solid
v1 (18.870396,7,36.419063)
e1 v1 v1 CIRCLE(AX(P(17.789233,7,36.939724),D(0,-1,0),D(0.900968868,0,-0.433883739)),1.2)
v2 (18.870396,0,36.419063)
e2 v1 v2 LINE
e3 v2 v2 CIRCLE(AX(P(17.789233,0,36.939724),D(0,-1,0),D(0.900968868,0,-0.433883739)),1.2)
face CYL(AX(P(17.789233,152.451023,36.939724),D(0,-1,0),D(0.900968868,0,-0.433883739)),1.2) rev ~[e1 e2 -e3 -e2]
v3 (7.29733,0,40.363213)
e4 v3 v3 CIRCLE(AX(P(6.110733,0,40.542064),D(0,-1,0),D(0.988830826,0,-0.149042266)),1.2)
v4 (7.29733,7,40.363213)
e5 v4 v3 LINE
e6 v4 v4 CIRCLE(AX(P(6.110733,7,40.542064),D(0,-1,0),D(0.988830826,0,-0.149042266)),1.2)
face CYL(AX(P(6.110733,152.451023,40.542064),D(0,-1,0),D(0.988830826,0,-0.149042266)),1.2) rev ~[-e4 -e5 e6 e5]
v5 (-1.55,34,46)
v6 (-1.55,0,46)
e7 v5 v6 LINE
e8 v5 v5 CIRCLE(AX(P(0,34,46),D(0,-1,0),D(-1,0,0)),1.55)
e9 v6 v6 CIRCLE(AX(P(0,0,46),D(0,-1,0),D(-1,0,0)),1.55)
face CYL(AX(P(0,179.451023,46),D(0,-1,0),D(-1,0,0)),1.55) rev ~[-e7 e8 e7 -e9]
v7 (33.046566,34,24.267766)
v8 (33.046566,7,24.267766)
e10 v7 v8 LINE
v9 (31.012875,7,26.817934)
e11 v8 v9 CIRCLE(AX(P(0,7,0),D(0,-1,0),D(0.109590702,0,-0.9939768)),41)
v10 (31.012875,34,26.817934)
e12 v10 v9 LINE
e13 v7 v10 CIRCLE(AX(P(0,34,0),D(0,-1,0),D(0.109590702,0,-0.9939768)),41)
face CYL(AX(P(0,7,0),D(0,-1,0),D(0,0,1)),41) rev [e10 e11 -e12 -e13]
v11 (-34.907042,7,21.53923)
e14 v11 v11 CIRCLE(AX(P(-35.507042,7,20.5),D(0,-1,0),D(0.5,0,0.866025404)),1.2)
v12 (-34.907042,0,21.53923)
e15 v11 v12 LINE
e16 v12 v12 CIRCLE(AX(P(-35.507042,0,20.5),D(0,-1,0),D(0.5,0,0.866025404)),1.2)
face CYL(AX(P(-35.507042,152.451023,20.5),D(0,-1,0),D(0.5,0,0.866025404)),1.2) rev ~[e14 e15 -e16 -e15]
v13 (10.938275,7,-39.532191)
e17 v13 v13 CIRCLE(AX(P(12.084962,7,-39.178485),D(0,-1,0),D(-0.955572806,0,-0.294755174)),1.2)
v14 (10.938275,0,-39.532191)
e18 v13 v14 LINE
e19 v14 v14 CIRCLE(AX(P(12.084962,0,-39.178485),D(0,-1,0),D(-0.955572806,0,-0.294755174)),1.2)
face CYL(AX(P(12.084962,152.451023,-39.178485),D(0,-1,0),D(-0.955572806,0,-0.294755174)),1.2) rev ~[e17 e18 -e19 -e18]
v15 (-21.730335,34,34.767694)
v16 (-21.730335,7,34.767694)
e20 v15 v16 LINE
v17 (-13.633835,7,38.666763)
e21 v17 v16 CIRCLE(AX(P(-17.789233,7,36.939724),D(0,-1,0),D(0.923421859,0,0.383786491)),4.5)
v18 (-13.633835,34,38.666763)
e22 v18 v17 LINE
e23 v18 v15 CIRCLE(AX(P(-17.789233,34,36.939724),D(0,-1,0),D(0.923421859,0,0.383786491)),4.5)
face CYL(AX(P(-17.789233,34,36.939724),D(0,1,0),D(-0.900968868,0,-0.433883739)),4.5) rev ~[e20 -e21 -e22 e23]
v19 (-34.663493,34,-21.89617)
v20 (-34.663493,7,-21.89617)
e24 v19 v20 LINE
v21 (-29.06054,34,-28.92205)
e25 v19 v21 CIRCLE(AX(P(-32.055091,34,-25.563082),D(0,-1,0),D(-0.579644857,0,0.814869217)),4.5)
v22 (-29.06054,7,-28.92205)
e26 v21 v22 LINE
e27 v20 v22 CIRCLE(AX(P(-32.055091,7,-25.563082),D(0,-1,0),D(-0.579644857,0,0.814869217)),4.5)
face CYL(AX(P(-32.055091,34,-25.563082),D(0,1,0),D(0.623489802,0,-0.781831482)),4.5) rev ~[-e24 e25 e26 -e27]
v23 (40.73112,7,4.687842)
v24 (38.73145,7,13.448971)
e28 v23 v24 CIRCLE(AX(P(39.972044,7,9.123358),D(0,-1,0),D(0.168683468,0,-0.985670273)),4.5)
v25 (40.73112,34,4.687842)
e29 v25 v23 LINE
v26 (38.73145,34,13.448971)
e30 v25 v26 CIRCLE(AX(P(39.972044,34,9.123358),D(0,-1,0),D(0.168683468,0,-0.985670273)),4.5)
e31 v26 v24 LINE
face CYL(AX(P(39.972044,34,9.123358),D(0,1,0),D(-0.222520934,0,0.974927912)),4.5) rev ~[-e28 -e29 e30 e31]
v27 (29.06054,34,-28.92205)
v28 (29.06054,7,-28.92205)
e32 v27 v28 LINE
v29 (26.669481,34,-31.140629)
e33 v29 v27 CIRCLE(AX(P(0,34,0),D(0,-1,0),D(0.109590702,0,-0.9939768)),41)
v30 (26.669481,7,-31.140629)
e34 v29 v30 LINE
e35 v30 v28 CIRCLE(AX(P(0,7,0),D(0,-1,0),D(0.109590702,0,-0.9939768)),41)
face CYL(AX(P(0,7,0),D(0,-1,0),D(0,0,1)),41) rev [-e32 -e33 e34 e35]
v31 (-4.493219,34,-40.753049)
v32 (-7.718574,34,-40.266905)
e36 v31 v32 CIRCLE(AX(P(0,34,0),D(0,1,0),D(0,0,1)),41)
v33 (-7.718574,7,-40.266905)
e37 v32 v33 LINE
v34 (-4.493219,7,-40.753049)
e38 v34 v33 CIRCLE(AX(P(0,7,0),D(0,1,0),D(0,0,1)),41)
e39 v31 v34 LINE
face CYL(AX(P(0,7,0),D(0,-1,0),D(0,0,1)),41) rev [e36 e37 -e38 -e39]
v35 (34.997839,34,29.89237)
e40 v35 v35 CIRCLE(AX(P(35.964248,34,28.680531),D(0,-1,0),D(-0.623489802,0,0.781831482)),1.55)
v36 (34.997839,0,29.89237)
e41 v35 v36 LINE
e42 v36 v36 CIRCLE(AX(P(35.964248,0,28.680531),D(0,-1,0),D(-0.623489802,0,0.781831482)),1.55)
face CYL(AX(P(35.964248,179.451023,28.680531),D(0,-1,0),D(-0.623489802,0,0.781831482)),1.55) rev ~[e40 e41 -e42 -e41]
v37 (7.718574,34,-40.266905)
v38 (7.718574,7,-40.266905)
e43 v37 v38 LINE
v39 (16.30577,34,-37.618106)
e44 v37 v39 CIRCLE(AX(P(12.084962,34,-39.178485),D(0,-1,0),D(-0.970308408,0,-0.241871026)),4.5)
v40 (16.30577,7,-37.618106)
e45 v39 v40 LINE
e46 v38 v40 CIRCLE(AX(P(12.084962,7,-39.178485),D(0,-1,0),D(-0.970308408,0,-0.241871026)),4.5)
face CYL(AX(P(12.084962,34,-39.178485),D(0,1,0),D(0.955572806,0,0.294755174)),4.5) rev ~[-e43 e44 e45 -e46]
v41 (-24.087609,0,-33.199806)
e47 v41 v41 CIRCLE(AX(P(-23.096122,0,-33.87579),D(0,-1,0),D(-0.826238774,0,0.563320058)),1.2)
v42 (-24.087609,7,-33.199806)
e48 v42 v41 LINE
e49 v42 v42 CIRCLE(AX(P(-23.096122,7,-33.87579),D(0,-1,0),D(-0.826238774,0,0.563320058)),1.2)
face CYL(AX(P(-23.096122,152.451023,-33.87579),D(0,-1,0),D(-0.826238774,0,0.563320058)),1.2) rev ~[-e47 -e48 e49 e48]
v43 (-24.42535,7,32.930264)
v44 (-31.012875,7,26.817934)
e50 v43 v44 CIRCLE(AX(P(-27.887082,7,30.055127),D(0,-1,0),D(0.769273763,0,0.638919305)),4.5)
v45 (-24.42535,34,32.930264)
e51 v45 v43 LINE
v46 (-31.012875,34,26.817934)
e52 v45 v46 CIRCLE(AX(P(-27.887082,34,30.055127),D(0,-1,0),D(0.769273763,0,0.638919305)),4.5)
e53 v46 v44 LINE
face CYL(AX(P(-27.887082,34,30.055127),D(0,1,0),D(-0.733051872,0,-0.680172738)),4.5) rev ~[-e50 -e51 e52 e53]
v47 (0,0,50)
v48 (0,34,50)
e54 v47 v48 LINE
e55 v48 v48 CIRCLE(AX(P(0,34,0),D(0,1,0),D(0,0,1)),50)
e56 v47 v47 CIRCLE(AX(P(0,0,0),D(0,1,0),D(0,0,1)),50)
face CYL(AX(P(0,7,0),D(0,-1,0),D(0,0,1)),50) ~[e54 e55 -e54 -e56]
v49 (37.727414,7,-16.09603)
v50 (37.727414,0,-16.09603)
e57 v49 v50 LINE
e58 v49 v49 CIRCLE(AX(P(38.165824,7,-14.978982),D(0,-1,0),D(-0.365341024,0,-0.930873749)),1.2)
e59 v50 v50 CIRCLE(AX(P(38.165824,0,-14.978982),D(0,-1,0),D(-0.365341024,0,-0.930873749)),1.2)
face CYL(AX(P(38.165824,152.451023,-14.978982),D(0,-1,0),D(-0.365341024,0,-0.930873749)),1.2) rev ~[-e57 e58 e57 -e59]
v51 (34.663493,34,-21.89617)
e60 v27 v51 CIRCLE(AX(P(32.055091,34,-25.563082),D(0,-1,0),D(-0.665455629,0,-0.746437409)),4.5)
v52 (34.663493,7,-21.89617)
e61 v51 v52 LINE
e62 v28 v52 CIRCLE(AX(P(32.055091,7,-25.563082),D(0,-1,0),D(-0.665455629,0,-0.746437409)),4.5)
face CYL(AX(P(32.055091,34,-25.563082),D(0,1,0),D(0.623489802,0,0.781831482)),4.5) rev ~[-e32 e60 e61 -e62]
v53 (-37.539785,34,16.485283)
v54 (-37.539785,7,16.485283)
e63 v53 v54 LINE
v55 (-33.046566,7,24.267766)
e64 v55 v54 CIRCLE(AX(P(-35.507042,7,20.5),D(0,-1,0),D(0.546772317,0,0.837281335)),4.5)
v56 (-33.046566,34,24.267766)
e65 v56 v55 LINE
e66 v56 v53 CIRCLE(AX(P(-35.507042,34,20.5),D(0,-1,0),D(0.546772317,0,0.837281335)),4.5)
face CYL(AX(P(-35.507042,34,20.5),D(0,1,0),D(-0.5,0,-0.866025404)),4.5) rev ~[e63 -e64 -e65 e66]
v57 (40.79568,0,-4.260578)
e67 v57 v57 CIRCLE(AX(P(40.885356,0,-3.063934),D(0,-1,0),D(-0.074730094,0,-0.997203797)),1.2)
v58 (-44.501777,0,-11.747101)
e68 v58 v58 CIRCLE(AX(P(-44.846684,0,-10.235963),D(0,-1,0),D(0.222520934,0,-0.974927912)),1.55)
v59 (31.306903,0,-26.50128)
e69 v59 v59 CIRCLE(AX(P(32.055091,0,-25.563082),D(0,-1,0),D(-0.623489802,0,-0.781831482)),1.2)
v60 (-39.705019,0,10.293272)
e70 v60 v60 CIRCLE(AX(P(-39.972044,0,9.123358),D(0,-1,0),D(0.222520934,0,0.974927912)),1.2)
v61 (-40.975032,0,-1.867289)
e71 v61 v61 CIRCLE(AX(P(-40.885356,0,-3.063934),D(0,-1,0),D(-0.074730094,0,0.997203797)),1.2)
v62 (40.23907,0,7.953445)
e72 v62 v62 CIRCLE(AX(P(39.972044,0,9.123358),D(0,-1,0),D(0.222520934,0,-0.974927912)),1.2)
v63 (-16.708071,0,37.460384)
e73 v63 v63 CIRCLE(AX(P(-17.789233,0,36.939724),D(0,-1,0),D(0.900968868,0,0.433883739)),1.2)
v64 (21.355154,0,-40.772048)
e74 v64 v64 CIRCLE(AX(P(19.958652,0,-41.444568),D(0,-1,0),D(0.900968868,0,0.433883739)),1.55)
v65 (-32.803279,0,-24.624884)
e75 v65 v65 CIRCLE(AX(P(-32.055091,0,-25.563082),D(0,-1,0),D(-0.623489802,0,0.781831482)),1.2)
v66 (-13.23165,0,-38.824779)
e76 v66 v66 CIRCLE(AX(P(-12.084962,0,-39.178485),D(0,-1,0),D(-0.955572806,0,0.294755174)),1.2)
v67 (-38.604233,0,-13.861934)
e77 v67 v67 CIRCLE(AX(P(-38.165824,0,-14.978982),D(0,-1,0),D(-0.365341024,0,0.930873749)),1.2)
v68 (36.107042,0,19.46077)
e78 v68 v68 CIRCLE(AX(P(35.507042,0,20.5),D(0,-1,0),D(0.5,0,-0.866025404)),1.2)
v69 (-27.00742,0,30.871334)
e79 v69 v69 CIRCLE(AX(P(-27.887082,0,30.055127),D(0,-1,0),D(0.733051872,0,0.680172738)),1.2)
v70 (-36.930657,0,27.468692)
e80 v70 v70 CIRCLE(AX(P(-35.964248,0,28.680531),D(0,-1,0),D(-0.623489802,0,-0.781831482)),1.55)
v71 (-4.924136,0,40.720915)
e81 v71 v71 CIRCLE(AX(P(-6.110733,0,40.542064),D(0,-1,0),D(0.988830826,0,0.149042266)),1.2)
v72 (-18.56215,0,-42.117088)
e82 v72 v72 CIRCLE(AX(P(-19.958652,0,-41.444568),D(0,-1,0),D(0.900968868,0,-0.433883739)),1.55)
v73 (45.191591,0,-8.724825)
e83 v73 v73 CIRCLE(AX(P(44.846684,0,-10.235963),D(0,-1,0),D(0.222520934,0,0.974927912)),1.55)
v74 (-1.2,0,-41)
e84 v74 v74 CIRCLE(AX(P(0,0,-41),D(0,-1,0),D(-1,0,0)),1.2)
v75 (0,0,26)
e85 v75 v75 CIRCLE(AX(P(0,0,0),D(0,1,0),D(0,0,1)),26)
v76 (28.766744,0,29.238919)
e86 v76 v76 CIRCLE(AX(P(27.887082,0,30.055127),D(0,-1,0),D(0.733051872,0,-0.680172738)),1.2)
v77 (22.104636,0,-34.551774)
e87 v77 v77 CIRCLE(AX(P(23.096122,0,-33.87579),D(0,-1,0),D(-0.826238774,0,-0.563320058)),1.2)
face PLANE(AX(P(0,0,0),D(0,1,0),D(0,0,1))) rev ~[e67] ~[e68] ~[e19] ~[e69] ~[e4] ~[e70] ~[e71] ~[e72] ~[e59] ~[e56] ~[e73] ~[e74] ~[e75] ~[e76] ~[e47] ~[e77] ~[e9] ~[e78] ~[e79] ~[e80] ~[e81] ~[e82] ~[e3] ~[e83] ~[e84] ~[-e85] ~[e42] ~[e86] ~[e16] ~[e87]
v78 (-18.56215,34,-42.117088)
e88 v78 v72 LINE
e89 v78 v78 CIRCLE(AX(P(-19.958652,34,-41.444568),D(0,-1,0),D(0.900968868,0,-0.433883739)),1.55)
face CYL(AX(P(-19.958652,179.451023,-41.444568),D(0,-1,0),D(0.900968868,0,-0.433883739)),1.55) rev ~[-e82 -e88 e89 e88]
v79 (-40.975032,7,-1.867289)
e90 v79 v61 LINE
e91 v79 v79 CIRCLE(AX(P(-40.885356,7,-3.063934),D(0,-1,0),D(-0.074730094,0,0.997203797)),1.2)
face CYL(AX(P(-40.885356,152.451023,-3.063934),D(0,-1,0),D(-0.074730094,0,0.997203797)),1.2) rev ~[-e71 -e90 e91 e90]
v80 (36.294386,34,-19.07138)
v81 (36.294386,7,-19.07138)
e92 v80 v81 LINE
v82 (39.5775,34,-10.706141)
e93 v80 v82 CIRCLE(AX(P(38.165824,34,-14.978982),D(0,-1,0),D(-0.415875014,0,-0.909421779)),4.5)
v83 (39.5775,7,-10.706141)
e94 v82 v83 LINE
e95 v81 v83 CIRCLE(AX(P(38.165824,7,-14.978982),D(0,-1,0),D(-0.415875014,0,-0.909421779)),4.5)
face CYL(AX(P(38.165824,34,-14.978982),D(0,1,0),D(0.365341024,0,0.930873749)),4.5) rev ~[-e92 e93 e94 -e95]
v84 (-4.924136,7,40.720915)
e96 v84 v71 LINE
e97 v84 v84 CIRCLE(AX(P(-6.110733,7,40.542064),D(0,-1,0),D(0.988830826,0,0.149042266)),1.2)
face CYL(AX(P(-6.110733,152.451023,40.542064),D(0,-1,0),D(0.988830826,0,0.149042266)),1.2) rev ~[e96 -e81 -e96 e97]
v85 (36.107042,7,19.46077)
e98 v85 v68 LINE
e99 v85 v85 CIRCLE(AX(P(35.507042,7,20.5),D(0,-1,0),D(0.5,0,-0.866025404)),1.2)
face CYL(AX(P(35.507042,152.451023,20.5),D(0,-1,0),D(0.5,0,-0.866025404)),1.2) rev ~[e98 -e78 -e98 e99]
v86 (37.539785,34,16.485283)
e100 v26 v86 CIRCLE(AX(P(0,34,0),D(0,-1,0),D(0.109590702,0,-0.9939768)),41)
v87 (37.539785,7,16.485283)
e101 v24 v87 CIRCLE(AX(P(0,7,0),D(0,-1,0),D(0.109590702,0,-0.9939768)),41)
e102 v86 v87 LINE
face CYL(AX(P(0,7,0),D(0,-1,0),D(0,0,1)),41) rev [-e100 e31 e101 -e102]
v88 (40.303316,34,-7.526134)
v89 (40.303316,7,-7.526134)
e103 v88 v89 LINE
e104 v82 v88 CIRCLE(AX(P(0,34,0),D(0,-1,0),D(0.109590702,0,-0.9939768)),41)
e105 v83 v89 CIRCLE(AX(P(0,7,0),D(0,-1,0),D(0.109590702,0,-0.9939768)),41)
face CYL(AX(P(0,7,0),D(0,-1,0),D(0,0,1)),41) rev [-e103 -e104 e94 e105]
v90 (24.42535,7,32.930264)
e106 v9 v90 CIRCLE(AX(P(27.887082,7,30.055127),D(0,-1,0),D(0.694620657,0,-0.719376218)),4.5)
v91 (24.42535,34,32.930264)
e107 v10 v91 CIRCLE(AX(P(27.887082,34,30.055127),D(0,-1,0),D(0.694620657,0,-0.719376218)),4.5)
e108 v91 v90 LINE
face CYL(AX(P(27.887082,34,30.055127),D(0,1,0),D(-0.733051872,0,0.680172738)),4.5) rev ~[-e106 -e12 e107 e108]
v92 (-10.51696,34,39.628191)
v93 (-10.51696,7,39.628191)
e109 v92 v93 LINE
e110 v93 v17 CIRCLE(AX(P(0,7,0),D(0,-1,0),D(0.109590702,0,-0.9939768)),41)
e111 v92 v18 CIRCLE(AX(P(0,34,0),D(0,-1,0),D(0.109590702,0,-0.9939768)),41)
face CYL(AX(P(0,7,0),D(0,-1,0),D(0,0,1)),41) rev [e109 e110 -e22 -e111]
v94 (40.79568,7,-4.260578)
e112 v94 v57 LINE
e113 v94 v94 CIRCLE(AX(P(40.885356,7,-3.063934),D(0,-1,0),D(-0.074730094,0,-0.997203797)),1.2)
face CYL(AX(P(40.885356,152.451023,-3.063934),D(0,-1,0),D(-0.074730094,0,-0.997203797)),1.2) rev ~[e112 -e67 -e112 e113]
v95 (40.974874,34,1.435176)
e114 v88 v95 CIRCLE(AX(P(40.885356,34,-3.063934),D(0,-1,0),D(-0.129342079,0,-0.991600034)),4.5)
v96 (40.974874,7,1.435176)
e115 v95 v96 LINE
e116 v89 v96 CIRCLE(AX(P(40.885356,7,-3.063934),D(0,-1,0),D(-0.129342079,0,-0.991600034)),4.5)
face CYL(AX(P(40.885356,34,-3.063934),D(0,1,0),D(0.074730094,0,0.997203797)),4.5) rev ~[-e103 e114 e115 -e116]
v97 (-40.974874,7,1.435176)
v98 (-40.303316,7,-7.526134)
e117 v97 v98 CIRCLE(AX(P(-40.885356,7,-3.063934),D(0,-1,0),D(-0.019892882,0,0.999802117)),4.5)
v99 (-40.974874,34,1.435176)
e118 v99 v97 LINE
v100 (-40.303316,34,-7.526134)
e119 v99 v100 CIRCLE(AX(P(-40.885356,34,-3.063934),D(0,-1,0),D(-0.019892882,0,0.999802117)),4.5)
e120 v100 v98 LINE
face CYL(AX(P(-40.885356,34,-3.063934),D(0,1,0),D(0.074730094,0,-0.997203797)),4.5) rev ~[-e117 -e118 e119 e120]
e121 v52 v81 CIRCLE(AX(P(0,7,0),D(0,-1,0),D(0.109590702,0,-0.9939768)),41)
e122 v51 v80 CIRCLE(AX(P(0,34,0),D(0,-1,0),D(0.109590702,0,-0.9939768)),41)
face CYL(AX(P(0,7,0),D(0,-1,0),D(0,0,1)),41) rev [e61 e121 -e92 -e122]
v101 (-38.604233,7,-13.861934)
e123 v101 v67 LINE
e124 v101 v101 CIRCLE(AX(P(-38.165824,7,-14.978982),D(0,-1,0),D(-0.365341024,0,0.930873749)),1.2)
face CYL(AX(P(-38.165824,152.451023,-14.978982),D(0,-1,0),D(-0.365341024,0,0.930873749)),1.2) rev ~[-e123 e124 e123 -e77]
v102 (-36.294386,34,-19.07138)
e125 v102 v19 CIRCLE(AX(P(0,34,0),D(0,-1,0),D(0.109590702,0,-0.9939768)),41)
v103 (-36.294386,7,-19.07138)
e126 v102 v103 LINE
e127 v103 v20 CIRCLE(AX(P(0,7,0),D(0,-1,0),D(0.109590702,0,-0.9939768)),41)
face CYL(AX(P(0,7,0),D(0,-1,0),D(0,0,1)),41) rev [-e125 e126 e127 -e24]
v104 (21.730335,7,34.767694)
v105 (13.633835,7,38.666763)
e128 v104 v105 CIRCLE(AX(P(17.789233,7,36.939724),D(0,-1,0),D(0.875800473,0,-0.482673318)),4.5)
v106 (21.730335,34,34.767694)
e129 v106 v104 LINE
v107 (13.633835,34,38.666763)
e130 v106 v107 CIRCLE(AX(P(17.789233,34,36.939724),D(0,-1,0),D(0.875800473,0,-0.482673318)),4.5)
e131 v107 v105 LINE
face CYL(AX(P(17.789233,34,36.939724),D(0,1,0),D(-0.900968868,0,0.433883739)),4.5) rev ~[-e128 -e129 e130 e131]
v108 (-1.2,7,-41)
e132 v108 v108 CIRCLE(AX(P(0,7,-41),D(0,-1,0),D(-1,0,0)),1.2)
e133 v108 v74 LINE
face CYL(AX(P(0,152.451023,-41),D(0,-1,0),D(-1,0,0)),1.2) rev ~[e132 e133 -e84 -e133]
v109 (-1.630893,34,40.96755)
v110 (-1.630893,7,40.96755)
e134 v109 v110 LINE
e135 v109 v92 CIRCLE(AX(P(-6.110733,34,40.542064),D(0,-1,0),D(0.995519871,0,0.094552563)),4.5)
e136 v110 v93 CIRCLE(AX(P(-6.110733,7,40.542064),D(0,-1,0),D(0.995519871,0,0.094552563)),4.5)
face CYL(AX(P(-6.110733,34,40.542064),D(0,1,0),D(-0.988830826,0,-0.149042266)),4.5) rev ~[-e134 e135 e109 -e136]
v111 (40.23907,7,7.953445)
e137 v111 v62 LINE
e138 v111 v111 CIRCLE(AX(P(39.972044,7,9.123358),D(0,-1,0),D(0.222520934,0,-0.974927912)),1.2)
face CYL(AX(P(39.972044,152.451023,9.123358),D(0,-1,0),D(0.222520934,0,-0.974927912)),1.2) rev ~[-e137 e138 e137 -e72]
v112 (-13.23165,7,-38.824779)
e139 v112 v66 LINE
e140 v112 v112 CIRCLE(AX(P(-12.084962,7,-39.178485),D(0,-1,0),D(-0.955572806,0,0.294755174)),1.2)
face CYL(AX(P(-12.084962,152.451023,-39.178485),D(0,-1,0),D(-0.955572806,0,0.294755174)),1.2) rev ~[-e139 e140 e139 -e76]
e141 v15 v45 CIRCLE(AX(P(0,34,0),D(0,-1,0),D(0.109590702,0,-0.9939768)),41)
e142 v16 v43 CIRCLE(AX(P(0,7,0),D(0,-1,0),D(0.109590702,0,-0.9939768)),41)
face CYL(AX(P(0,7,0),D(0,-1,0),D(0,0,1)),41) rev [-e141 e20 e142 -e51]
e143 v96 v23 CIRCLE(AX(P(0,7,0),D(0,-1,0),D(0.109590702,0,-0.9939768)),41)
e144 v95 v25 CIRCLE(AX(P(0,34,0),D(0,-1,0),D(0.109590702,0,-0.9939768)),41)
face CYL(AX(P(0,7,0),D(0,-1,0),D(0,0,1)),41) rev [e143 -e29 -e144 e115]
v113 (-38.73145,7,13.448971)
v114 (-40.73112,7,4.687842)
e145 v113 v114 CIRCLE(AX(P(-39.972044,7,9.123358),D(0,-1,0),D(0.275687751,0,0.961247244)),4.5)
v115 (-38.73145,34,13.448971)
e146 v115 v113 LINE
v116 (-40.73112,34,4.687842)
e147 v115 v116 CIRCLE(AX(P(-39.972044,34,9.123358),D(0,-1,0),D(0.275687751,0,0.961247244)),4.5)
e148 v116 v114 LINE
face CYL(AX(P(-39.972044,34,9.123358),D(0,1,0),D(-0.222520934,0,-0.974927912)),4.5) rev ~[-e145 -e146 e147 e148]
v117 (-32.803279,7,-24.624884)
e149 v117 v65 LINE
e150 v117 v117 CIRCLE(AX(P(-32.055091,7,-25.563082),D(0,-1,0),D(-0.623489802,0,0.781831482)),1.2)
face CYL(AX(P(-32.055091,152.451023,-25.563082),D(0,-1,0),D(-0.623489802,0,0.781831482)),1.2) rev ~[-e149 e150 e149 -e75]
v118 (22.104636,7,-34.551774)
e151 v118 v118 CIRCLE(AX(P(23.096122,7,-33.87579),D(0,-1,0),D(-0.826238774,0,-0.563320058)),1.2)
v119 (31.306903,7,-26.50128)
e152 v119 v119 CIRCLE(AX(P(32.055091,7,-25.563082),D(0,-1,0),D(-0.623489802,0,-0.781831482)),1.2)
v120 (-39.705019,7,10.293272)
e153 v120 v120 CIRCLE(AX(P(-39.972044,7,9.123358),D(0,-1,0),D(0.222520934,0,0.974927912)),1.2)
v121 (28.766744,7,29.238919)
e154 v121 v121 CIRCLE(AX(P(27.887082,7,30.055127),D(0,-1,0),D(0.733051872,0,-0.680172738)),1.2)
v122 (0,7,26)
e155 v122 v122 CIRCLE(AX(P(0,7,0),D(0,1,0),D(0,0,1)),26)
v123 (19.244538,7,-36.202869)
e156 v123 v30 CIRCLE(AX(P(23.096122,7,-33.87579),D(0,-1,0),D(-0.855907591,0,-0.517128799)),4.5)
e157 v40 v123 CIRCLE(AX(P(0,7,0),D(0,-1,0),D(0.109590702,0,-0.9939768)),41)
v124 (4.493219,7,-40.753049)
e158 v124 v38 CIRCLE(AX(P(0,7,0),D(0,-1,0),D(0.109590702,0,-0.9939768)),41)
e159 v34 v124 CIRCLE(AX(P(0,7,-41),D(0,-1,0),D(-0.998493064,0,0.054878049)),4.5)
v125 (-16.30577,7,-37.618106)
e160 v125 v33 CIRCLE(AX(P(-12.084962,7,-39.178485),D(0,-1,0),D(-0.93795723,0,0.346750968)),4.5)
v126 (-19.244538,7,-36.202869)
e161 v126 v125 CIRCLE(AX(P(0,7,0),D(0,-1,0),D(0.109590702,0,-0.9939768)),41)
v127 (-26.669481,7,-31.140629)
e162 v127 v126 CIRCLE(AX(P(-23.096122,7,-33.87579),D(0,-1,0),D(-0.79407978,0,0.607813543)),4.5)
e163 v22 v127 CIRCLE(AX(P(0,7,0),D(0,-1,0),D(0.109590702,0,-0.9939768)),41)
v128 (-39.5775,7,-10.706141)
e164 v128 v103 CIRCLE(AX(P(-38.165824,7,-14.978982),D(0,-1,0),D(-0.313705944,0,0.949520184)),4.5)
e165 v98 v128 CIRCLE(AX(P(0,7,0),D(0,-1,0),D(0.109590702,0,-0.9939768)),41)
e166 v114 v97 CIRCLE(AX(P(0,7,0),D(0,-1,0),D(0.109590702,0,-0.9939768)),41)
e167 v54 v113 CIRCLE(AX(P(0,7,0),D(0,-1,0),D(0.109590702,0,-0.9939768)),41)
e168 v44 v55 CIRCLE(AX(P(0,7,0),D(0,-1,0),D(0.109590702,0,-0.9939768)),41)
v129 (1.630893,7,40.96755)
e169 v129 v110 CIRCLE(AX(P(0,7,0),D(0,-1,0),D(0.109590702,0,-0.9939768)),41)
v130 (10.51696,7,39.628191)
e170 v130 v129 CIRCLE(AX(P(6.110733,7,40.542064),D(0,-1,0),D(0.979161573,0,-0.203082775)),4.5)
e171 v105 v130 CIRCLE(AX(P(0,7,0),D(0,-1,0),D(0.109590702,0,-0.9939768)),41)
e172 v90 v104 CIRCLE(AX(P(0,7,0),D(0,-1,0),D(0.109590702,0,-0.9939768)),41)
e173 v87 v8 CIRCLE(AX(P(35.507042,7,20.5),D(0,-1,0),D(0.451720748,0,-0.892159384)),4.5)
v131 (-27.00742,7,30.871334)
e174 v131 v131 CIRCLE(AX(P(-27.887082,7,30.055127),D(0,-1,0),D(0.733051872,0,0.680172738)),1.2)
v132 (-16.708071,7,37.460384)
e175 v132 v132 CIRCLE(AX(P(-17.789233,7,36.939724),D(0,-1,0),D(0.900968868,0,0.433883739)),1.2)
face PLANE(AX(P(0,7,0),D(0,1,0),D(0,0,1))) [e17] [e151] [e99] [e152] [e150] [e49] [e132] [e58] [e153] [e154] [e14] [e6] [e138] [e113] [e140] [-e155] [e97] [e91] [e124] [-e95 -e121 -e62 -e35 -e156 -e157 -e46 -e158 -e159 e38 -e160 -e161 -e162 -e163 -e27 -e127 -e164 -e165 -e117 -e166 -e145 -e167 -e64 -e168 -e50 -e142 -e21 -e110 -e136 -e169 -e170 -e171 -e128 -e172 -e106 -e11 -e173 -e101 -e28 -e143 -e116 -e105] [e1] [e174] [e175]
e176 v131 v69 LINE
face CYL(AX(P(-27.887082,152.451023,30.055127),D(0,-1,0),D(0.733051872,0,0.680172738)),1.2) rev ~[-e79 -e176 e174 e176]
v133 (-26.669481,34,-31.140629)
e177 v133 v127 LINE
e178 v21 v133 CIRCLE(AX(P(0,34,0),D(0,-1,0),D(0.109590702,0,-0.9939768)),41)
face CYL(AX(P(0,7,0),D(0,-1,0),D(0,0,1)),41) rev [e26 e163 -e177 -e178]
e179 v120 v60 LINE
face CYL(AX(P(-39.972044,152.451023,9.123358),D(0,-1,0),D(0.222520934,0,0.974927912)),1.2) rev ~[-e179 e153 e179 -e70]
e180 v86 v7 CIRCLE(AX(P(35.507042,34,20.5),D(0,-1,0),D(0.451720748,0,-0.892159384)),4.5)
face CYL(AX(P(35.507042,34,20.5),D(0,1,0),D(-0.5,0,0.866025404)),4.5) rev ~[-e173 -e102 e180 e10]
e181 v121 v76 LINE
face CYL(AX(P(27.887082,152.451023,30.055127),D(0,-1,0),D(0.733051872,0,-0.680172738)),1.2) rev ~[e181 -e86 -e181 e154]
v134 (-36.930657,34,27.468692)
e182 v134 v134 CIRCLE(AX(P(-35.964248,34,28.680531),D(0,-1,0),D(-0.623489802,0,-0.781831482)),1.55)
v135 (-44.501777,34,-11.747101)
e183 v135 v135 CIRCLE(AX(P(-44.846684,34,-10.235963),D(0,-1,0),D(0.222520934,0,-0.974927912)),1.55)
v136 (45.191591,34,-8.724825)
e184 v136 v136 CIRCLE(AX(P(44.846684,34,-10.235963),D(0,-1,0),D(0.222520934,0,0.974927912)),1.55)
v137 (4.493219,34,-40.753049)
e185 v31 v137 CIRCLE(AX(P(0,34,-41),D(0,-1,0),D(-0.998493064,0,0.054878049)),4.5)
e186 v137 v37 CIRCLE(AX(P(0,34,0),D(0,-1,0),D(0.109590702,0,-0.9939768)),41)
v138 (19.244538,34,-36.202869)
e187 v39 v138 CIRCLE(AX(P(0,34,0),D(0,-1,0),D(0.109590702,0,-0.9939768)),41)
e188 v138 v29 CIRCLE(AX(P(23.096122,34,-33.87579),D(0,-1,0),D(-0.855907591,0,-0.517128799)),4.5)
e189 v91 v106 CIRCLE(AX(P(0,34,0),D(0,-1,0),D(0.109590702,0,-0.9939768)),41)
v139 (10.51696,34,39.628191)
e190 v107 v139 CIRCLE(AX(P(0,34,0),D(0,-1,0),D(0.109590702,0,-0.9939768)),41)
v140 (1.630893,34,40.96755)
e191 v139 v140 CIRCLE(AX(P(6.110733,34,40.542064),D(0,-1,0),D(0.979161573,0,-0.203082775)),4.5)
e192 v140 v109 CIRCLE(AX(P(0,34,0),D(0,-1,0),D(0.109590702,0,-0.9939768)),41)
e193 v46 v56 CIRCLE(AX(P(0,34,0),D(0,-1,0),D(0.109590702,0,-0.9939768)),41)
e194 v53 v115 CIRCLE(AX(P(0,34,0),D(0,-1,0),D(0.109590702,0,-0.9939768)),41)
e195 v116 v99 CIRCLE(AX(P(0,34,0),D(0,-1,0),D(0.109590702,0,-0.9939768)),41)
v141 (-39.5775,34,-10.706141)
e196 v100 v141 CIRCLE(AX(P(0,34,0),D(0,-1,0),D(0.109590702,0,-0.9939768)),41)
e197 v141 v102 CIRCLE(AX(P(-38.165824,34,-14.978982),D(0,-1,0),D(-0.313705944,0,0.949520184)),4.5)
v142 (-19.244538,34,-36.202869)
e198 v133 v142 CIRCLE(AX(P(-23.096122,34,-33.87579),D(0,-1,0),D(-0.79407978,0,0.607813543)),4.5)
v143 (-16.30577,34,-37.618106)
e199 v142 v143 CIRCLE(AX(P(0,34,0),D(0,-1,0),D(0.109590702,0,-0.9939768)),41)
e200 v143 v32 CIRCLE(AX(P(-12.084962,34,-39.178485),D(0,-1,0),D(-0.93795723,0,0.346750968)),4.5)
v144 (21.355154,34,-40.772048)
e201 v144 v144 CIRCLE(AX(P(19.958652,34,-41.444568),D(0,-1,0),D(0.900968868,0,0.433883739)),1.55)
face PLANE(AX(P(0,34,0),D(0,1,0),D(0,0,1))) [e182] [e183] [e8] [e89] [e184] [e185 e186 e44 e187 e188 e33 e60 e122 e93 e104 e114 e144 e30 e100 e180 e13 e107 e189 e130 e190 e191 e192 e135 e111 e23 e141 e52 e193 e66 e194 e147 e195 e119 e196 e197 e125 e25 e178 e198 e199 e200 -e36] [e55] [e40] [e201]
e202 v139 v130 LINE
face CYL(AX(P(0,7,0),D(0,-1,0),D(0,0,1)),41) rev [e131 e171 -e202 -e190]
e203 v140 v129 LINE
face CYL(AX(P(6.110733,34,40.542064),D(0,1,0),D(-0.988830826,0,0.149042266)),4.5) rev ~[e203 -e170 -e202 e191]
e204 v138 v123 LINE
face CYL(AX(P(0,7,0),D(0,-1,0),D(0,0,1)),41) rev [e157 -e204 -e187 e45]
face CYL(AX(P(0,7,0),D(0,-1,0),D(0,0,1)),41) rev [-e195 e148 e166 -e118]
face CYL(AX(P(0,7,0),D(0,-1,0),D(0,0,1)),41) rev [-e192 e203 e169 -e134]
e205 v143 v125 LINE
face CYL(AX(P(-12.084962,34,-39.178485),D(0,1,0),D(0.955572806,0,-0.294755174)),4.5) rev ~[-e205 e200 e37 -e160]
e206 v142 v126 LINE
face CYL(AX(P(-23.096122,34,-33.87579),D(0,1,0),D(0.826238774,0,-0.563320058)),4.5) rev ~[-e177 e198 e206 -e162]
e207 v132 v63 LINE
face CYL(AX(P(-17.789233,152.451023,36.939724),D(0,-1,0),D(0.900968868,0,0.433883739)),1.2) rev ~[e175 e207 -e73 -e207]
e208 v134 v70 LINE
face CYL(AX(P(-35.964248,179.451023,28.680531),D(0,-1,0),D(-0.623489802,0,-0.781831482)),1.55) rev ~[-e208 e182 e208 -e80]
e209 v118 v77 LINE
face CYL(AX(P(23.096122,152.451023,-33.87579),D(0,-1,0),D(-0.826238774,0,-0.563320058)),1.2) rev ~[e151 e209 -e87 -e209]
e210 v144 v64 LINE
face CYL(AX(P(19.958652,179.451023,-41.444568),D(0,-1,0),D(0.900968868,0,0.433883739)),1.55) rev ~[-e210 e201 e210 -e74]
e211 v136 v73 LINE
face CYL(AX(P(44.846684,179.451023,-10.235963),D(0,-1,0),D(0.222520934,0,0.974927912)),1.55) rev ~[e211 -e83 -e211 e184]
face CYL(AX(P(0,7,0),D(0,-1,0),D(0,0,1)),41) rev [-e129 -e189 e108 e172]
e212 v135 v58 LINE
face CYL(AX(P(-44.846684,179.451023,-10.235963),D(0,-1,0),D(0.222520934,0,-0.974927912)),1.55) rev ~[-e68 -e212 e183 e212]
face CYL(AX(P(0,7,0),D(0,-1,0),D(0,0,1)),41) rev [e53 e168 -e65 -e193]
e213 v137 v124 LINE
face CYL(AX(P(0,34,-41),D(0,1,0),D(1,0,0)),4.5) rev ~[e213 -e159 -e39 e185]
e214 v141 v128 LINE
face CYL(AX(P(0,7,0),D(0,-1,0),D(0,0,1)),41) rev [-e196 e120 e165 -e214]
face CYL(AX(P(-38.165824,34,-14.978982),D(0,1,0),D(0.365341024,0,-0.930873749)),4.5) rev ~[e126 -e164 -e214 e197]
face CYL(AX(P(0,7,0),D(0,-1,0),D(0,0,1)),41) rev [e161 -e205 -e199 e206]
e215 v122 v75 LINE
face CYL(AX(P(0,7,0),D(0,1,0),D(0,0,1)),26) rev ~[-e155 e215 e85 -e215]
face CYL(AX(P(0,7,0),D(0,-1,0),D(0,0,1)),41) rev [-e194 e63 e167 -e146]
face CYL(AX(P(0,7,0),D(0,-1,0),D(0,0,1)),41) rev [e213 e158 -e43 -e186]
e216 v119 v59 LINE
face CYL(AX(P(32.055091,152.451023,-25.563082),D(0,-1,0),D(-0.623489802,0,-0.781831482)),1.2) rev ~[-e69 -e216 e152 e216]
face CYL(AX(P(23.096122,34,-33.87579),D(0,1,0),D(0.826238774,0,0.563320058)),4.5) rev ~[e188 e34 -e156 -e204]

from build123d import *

# Parameters (mm, degrees)
SKIZZE1_R                        = 50
AUFSATZ_LINEAR_AUSTRAGEN1_DEPTH  = 7
SKIZZE2_R                        = 50
SKIZZE2_R_2                      = 41
AUFSATZ_LINEAR_AUSTRAGEN2_DEPTH  = 27
SKIZZE3_R                        = 26
SCHNITT_LINEAR_AUSTRAGEN1_DEPTH  = 27
SKIZZE4_R                        = 4.5
SCHNITT_LINEAR_AUSTRAGEN2_DEPTH  = 27
KREISMUSTER1_COUNT               = 21
F_2_4_2_4_DURCHMESSER_BOHRUNG1_D = 2.4
KREISMUSTER2_COUNT               = 21
F_3_1_3_1_DURCHMESSER_BOHRUNG1_D = 3.1
KREISMUSTER3_COUNT               = 7


with BuildPart() as part:
    # Skizze1 → Aufsatz-Linear austragen1 (new body)
    with BuildSketch(Plane(origin=(0, 0, 0), x_dir=(1, 0, 0), z_dir=(0, 1, 0))):
        with Locations(Location((0, 0, 0), (0, 0, 270))):
            Circle(SKIZZE1_R)
    extrude(amount=AUFSATZ_LINEAR_AUSTRAGEN1_DEPTH)

    # Skizze2 → Aufsatz-Linear austragen2 (add)
    with BuildSketch(Plane(origin=(0, 7, 0), x_dir=(1, 0, 0), z_dir=(0, 1, 0))):
        with Locations(Location((0, 0, 0), (0, 0, 270))):
            Circle(SKIZZE2_R)
        with Locations(Location((0, 0, 0), (0, 0, 270))):
            Circle(SKIZZE2_R_2, mode=Mode.SUBTRACT)
    extrude(amount=AUFSATZ_LINEAR_AUSTRAGEN2_DEPTH)

    # Skizze3 → Schnitt-Linear austragen1 (cut)
    with BuildSketch(Plane(origin=(0, 7, 0), x_dir=(1, 0, 0), z_dir=(0, 1, 0))):
        with Locations(Location((0, 0, 0), (0, 0, 270))):
            Circle(SKIZZE3_R)
    extrude(amount=-SCHNITT_LINEAR_AUSTRAGEN1_DEPTH, mode=Mode.SUBTRACT)

    # Skizze4 → Schnitt-Linear austragen2 (cut)
    with BuildSketch(Plane(origin=(0, 34, 0), x_dir=(1, 0, 0), z_dir=(0, 1, 0))):
        with Locations((0, 41)):
            Circle(SKIZZE4_R)
    schnitt_linear_austragen2 = extrude(amount=-SCHNITT_LINEAR_AUSTRAGEN2_DEPTH, mode=Mode.SUBTRACT)

    # Kreismuster1: Schnitt-Linear austragen2 ×21 about axis
    kreismuster1_axis = Axis((0, 0, 0), (0, 1, 0))
    for i in range(1, KREISMUSTER1_COUNT):
        add(schnitt_linear_austragen2.rotate(kreismuster1_axis, i * 360 / KREISMUSTER1_COUNT), mode=Mode.SUBTRACT)

    # Ø2.4 (2.4) Durchmesser Bohrung1 (through all)
    with Locations(Plane(origin=(0, 7, 0), x_dir=(1, 0, 0), z_dir=(0, 1, 0))):
        with Locations((0, 41)):
            f_2_4_2_4_durchmesser_bohrung1 = Hole(F_2_4_2_4_DURCHMESSER_BOHRUNG1_D / 2)

    # Kreismuster2: Ø2.4 (2.4) Durchmesser Bohrung1 ×21 about axis
    kreismuster2_axis = Axis((0, 0, 0), (0, 1, 0))
    for i in range(1, KREISMUSTER2_COUNT):
        add(f_2_4_2_4_durchmesser_bohrung1.rotate(kreismuster2_axis, i * 360 / KREISMUSTER2_COUNT), mode=Mode.SUBTRACT)

    # Ø3.1 (3.1) Durchmesser Bohrung1 (through all)
    with Locations(Plane(origin=(0, 34, 0), x_dir=(1, 0, 0), z_dir=(0, 1, 0))):
        with Locations((0, -46)):
            f_3_1_3_1_durchmesser_bohrung1 = Hole(F_3_1_3_1_DURCHMESSER_BOHRUNG1_D / 2)

    # Kreismuster3: Ø3.1 (3.1) Durchmesser Bohrung1 ×7 about axis
    kreismuster3_axis = Axis((0, 0, 0), (0, 1, 0))
    for i in range(1, KREISMUSTER3_COUNT):
        add(f_3_1_3_1_durchmesser_bohrung1.rotate(kreismuster3_axis, i * 360 / KREISMUSTER3_COUNT), mode=Mode.SUBTRACT)


solid = part.part
